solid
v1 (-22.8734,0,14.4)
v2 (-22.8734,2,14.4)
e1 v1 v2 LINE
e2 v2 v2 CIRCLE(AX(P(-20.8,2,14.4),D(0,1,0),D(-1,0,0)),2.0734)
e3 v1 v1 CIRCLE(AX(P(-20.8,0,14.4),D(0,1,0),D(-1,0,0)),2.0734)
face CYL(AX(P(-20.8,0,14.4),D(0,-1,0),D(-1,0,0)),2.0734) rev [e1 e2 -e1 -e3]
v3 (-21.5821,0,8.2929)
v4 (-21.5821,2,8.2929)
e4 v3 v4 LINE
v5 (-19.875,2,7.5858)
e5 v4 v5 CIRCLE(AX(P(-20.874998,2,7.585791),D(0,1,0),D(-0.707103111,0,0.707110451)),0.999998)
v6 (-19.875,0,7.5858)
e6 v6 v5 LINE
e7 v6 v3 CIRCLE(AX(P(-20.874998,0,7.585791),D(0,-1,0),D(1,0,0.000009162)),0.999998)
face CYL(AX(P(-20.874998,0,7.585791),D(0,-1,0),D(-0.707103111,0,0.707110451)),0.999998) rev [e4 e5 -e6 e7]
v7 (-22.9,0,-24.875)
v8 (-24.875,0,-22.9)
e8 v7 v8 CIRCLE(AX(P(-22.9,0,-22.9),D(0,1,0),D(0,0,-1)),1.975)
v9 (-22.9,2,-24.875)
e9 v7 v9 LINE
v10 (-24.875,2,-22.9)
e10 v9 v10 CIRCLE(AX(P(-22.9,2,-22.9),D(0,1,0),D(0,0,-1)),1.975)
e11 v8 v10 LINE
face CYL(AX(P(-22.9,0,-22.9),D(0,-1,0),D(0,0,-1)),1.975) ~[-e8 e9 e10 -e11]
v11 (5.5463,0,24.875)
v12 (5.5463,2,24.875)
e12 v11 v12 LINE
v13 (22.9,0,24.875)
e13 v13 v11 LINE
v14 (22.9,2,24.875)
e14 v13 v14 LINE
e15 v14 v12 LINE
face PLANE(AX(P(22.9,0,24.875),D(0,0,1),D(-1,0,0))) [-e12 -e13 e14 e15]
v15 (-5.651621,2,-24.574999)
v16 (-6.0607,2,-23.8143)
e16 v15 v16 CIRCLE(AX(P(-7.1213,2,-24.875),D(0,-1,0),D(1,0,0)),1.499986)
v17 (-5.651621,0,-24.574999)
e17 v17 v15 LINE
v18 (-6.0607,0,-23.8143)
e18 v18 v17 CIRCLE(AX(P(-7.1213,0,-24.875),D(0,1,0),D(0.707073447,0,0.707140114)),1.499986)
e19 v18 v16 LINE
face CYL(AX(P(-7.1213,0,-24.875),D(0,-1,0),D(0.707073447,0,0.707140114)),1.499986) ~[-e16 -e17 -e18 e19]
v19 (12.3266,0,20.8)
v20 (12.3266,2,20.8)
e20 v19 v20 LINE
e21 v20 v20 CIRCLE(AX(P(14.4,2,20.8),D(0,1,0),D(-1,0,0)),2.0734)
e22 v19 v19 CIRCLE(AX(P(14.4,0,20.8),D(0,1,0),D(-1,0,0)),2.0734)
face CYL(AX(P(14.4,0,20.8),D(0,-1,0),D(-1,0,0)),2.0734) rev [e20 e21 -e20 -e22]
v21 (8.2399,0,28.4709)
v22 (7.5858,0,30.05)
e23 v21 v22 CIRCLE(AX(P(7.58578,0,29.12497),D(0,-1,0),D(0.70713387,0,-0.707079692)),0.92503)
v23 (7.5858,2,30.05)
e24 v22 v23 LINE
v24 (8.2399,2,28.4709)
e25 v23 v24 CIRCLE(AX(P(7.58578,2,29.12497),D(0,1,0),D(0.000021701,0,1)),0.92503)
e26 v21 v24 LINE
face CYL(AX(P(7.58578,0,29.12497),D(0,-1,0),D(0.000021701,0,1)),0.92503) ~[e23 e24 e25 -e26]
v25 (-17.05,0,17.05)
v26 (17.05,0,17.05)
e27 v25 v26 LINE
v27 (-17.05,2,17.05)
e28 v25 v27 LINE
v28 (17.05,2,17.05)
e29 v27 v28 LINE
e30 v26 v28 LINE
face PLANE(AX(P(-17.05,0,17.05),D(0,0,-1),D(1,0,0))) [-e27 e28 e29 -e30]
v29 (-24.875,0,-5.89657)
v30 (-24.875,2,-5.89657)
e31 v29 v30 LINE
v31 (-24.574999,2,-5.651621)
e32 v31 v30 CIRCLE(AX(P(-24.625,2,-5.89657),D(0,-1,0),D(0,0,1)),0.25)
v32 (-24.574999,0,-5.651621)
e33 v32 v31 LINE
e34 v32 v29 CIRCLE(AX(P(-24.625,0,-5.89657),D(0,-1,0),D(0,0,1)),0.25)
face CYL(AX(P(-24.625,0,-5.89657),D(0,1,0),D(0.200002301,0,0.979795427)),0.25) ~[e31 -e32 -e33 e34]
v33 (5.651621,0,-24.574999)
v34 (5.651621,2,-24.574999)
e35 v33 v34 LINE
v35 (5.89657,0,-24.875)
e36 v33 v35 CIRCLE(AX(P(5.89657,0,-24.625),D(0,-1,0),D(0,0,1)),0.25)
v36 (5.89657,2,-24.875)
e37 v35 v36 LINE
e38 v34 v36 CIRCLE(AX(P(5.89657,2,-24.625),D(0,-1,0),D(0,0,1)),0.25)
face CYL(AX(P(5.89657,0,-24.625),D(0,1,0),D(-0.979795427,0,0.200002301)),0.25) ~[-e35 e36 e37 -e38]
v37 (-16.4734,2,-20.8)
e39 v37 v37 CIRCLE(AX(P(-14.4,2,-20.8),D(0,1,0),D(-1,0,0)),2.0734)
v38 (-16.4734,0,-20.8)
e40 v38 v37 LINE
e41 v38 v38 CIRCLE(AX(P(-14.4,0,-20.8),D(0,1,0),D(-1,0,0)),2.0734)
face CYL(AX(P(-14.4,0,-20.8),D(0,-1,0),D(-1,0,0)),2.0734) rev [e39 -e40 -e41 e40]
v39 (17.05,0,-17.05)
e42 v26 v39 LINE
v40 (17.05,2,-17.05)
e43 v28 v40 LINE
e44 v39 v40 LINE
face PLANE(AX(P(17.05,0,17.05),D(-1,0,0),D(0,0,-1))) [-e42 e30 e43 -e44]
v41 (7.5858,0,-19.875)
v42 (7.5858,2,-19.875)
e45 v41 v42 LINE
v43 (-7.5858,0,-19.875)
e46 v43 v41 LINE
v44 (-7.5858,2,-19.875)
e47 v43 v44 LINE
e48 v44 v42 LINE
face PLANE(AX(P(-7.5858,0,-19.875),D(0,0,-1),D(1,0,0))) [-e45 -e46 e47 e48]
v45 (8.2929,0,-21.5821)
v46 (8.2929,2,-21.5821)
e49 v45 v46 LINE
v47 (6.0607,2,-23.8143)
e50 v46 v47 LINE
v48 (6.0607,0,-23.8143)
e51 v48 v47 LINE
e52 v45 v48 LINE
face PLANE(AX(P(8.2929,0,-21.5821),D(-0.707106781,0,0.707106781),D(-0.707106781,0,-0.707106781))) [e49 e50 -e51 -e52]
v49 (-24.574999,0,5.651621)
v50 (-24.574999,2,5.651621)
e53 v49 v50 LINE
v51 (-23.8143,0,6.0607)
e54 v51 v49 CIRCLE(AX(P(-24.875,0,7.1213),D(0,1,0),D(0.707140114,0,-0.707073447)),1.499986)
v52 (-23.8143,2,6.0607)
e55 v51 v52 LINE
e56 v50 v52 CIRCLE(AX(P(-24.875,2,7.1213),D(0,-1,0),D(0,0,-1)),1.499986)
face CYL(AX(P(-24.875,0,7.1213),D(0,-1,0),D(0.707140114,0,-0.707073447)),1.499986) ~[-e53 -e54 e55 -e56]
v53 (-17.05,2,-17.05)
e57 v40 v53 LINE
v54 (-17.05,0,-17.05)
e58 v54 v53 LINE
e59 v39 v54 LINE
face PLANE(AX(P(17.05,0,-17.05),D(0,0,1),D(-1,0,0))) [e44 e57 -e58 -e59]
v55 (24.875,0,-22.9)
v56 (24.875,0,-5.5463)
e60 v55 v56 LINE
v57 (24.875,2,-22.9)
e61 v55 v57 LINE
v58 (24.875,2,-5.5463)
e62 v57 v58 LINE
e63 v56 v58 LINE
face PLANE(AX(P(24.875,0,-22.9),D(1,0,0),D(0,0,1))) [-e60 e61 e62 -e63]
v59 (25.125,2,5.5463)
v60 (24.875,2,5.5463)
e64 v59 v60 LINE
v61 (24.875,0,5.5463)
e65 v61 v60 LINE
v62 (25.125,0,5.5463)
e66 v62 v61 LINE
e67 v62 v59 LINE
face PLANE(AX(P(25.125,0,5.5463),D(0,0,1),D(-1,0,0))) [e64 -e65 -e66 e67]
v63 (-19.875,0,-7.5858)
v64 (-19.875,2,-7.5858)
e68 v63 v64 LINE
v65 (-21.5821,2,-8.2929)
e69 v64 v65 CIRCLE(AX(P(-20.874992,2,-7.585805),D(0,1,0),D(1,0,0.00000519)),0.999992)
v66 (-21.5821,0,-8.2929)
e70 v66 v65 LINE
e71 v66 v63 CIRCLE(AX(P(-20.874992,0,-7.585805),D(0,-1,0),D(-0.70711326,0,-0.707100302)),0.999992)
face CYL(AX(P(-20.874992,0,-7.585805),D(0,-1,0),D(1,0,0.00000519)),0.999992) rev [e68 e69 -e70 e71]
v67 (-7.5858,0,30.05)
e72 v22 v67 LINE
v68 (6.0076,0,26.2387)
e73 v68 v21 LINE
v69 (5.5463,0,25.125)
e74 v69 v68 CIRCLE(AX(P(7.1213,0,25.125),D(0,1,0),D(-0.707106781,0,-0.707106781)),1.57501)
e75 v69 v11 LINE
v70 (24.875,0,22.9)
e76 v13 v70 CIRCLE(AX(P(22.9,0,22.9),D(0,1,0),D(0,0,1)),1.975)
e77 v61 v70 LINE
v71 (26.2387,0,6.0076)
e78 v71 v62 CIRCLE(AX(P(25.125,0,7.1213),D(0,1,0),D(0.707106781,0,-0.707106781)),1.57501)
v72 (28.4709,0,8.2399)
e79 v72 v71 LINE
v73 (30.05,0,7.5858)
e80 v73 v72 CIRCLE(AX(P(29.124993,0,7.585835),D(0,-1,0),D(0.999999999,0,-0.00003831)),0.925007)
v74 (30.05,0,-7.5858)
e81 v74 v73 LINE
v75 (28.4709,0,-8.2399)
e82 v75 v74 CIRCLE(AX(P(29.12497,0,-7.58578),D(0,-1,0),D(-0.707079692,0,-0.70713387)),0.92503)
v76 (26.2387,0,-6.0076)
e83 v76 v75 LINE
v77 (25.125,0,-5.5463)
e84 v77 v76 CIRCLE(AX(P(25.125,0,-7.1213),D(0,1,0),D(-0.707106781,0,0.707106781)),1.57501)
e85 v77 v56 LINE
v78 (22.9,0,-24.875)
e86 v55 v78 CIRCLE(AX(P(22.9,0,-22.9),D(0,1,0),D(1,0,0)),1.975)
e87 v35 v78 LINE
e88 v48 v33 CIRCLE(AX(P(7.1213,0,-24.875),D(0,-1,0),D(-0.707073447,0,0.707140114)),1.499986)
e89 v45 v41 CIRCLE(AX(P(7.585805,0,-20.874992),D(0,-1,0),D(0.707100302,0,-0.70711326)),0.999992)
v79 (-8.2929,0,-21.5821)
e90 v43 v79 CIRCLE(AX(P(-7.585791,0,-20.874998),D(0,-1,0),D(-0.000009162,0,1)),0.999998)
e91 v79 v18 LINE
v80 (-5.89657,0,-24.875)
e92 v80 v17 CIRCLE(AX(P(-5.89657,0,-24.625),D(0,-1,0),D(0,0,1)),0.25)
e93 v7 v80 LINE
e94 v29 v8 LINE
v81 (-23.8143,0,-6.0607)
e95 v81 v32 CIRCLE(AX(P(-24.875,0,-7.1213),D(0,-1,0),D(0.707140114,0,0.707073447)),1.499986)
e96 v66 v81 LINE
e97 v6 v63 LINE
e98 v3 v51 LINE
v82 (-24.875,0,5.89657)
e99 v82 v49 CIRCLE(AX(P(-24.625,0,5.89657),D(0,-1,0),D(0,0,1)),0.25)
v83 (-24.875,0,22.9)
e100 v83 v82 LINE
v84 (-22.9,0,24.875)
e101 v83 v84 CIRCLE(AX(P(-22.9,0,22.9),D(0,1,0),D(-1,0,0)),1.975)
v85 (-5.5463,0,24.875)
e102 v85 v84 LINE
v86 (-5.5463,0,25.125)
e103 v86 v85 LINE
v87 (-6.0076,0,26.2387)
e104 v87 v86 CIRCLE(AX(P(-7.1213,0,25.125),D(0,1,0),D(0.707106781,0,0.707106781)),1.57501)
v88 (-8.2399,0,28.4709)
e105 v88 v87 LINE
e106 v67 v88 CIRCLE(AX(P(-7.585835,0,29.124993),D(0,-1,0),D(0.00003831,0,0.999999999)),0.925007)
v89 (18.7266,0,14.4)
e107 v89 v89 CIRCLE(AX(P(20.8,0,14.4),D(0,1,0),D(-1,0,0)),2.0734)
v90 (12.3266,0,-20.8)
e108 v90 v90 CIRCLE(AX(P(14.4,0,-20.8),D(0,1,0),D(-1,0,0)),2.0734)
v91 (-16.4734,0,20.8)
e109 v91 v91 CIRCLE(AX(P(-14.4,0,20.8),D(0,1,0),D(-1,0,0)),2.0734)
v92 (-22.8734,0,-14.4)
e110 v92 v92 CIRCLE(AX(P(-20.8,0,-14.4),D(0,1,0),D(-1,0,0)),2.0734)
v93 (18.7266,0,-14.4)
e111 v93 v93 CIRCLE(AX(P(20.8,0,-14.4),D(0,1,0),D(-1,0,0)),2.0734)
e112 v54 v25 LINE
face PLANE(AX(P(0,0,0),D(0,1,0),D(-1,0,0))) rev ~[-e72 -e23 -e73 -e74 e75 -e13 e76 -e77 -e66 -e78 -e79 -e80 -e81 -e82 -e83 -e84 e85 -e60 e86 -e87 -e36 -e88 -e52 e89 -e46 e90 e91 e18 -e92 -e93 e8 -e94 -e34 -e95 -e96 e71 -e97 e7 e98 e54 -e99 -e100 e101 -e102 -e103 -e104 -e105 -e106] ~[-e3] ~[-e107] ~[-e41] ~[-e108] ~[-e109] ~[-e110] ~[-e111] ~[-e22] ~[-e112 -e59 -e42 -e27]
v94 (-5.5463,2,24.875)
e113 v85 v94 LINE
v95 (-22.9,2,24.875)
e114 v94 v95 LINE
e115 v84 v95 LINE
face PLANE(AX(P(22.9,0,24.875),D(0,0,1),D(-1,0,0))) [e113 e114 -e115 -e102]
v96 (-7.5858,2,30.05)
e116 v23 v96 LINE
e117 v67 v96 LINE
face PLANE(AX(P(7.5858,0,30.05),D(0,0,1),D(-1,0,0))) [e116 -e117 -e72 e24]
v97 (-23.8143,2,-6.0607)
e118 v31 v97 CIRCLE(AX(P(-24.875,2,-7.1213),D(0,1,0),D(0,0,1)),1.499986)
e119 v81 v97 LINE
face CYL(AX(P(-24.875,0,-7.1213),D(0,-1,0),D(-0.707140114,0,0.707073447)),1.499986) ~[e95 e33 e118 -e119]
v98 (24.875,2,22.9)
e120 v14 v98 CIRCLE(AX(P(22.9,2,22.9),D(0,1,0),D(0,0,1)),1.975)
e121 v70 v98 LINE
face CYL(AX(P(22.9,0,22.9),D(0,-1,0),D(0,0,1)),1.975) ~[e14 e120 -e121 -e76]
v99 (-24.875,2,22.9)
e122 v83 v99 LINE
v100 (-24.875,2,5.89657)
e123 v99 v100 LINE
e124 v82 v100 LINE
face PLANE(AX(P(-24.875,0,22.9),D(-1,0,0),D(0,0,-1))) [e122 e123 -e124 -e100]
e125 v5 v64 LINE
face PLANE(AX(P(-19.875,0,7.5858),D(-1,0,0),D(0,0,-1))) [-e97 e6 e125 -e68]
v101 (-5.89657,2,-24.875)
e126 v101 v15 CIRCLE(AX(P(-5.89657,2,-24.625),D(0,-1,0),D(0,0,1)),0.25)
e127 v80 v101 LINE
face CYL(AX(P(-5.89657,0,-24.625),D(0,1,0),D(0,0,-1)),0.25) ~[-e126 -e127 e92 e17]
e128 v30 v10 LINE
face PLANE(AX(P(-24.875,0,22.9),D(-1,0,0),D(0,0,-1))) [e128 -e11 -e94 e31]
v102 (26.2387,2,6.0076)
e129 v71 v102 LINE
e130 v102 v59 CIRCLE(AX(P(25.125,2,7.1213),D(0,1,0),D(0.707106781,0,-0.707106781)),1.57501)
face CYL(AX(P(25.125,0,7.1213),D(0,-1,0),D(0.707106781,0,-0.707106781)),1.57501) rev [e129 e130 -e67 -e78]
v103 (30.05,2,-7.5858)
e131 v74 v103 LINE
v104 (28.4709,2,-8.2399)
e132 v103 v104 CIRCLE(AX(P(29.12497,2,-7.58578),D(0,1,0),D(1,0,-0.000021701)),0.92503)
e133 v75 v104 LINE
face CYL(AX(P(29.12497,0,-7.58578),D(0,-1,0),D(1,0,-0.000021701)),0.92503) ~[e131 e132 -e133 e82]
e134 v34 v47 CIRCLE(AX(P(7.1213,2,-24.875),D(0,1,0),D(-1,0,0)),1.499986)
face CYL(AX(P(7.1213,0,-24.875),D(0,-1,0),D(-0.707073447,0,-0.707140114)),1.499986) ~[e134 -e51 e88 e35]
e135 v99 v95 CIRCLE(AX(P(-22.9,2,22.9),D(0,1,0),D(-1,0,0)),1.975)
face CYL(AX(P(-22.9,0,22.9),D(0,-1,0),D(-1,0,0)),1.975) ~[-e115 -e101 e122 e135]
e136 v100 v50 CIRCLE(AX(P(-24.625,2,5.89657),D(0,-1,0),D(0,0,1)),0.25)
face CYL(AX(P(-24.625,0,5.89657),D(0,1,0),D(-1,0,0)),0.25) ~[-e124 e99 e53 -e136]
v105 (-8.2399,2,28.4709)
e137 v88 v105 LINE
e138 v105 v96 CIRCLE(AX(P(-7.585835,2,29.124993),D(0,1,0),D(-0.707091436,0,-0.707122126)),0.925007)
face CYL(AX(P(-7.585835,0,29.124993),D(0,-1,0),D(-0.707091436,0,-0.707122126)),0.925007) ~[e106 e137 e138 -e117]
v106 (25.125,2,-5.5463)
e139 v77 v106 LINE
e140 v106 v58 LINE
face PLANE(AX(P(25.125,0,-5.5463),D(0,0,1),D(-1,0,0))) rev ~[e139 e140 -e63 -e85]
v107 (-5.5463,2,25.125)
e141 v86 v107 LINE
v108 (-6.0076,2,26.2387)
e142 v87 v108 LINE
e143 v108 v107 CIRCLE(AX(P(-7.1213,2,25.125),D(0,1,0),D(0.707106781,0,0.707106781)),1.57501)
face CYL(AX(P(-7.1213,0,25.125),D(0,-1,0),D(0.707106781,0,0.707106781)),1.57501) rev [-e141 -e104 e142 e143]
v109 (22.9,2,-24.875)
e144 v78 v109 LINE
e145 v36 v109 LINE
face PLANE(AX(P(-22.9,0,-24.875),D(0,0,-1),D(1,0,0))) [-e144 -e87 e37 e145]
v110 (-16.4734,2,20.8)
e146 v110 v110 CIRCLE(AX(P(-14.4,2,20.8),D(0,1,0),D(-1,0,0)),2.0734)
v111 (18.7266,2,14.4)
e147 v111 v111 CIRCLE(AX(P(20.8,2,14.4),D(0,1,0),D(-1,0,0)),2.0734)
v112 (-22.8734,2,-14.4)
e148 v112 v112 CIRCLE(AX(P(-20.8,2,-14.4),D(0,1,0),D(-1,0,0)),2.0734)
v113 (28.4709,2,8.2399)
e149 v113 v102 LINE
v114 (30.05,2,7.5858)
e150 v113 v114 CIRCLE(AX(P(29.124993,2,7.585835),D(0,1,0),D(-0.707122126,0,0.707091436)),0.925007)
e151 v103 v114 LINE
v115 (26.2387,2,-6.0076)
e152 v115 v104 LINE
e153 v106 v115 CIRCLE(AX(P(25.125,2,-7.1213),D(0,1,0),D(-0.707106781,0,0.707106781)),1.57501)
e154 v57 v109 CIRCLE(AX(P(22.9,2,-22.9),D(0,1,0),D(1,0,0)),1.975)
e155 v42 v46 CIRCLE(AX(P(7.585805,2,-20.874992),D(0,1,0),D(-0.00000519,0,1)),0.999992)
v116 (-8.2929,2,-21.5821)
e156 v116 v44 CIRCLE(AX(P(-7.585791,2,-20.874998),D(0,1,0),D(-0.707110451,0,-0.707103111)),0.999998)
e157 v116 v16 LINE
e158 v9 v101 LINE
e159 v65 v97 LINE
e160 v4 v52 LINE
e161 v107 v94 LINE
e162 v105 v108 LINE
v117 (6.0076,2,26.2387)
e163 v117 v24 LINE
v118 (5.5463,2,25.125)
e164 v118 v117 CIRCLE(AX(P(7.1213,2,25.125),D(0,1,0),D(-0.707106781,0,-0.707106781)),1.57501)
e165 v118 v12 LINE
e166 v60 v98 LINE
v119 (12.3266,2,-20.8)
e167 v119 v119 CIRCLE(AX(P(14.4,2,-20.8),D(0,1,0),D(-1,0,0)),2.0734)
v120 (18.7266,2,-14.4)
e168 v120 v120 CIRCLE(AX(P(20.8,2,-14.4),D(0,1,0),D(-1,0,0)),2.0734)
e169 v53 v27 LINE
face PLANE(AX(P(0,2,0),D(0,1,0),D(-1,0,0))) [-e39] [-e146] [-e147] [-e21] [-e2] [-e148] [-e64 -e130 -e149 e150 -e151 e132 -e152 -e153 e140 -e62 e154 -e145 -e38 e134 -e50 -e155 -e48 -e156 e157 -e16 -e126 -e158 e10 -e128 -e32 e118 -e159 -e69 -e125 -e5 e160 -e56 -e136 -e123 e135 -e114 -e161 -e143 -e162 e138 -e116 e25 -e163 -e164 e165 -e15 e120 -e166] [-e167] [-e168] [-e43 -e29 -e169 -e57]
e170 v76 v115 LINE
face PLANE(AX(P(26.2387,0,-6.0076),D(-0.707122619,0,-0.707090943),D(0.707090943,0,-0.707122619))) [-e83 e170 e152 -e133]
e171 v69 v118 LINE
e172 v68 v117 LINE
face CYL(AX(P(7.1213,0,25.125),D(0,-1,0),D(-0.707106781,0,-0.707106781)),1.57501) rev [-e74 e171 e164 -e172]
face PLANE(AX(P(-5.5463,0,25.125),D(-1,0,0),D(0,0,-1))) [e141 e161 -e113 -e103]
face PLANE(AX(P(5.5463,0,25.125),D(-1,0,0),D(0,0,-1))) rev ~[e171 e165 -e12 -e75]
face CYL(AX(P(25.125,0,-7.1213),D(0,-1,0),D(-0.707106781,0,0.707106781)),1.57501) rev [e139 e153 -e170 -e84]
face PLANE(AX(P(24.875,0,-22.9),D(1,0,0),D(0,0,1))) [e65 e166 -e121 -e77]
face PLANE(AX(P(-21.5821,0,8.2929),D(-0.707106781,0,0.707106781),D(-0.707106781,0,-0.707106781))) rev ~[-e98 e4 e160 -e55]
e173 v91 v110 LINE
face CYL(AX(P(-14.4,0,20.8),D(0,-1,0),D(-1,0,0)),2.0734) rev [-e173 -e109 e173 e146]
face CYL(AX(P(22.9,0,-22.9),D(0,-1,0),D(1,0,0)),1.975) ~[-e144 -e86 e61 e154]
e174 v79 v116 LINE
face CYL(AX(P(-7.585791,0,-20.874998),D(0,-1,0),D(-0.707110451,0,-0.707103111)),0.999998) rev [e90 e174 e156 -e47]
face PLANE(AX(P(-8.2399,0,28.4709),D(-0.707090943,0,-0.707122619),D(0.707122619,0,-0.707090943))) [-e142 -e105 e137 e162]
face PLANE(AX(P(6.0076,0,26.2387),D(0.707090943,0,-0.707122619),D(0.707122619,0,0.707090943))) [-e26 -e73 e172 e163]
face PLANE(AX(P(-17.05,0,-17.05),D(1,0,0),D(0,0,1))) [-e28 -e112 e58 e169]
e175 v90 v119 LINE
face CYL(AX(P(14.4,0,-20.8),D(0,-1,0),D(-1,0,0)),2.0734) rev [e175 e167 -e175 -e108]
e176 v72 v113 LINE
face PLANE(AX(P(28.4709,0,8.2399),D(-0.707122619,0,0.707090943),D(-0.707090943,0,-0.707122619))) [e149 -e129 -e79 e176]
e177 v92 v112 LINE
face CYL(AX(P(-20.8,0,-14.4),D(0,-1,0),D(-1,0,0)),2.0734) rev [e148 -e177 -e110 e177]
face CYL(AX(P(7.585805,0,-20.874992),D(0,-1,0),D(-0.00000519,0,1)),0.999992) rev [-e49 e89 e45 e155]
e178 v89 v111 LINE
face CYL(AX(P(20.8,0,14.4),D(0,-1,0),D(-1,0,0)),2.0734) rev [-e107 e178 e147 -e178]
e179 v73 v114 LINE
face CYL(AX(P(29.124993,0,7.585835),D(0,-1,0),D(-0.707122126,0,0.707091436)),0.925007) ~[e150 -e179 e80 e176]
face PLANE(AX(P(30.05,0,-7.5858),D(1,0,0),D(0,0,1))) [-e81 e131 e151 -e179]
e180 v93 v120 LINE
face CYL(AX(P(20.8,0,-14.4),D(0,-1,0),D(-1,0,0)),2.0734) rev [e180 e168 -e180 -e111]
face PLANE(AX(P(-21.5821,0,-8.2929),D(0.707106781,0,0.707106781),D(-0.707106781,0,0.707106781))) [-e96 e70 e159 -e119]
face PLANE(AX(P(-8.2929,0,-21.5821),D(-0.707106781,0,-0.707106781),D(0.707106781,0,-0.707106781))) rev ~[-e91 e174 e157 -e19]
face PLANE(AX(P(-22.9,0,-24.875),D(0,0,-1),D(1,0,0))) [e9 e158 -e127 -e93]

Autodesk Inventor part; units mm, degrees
ref_plane "YZ Plane" through (0, 0, 0) normal (1, 0, 0) x (0, 1, 0)
ref_plane "XZ Plane" through (0, 0, 0) normal (0, 1, 0) x (-1, 0, 0)
ref_plane "XY Plane" through (0, 0, 0) normal (0, 0, 1) x (1, 0, 0)
sketch "Sketch1" plane through (0, 0, 0) normal (0, 1, 0) x (-1, 0, 0)
  circle A0 centre (-21.9, -21.9) radius 1.875 projected
  circle A1 centre (21.9, 21.9) radius 1.875 projected
  circle A2 centre (21.9, -21.9) radius 1.875 projected
  circle A3 centre (-21.9, 21.9) radius 1.875 projected
  circle A4 centre (14.4, 20.8) radius 2.0734 projected
  circle A5 centre (-14.4, -20.8) radius 2.0734 projected
  circle A6 centre (14.4, -20.8) radius 2.0734 projected
  circle A7 centre (20.8, -14.4) radius 2.0734 projected
  line L0 (-17.05, 17.05) -> (-17.05, -17.05) projected
  line L1 (17.05, 17.05) -> (-17.05, 17.05) projected
  line L2 (17.05, -17.05) -> (17.05, 17.05) projected
  line L3 (-17.05, -17.05) -> (17.05, -17.05) projected
  circle A8 centre (20.8, 14.4) radius 2.0734 projected
  circle A9 centre (-14.4, 20.8) radius 2.0734 projected
  circle A10 centre (-20.8, -14.4) radius 2.0734 projected
  circle A11 centre (-20.8, 14.4) radius 2.0734 projected
  line L4 (-22.9, 24.875) -> (22.9, 24.875) projected
  arc A12 (-22.9, 24.875) -> (-24.875, 22.9) centre (-22.9, 22.9) ccw projected
  line L5 (-24.875, -22.9) -> (-24.875, 22.9) projected
  arc A13 (-24.875, -22.9) -> (-22.9, -24.875) centre (-22.9, -22.9) ccw projected
  line L6 (22.9, -24.875) -> (-22.9, -24.875) projected
  arc A14 (22.9, -24.875) -> (24.875, -22.9) centre (22.9, -22.9) ccw projected
  line L7 (24.875, 22.9) -> (24.875, -22.9) projected
  arc A15 (24.875, 22.9) -> (22.9, 24.875) centre (22.9, 22.9) ccw projected
  arc A16 (24.9, 22.9) -> (22.9, 24.9) centre (22.9, 22.9) ccw projected
  line L8 (22.9, 24.9) -> (-22.9, 24.9) projected
  arc A17 (-22.9, 24.9) -> (-24.9, 22.9) centre (-22.9, 22.9) ccw projected
  line L9 (-24.9, 22.9) -> (-24.9, -22.9) projected
  arc A18 (-24.9, -22.9) -> (-22.9, -24.9) centre (-22.9, -22.9) ccw projected
  line L10 (-22.9, -24.9) -> (22.9, -24.9) projected
  arc A19 (22.9, -24.9) -> (24.9, -22.9) centre (22.9, -22.9) ccw projected
  line L11 (24.9, -22.9) -> (24.9, 22.9) projected
  point P0 (0, 0)
extrude "Extrusion1" add sketch "Sketch1" along normal blind 2 contours A0 | A1 | A2 | A3 | L4 A15 L7 A14 L6 A13 L5 A12
sketch "Sketch2" plane through (0, 0, 0) normal (0, 1, 0) x (-1, 0, 0)
  line L0 (-7.5858, -29.875) -> (7.5858, -29.875)
  line L1 (10, -29.875) -> (10, -19.875)
  line L2 (7.5858, -19.875) -> (-7.5858, -19.875)
  line L3 (-10, -19.875) -> (-10, -29.875)
  line L4 (-10, -29.875) -> (10, -19.875) construction
  line L5 (10, -29.875) -> (-10, -19.875) construction
  line L6 (-8.2929, -21.5821) -> (-6.0607, -23.8143)
  line L7 (-10, -19.875) -> (-6.8431, -19.875) construction
  line L8 (8.2929, -21.5821) -> (6.0607, -23.8143)
  line L9 (-8.2929, -28.1679) -> (-6.0607, -25.9357)
  line L10 (8.2929, -28.1679) -> (6.0607, -25.9357)
  arc A0 (-8.2929, -28.1679) -> (-7.5858, -29.875) centre (-7.5858, -28.875) ccw
  arc A1 (7.5858, -29.875) -> (8.2929, -28.1679) centre (7.5858, -28.875) ccw
  arc A2 (-6.0607, -25.9357) -> (-6.0607, -23.8143) centre (-7.1213, -24.875) ccw
  arc A3 (6.0607, -23.8143) -> (6.0607, -25.9357) centre (7.1213, -24.875) ccw
  arc A4 (-7.5858, -19.875) -> (-8.2929, -21.5821) centre (-7.5858, -20.875) ccw
  arc A5 (8.2929, -21.5821) -> (7.5858, -19.875) centre (7.5858, -20.875) ccw
  line L11 (-7.5858, -19.95) -> (7.5858, -19.95)
  arc A6 (8.2399, -21.5291) -> (7.5858, -19.95) centre (7.5858, -20.875) ccw
  line L12 (8.2399, -21.5291) -> (6.0076, -23.7613)
  arc A7 (6.0076, -23.7613) -> (6.0076, -25.9887) centre (7.1213, -24.875) ccw
  line L13 (6.0076, -25.9887) -> (8.2399, -28.2209)
  arc A8 (7.5858, -29.8) -> (8.2399, -28.2209) centre (7.5858, -28.875) ccw
  line L14 (7.5858, -29.8) -> (-7.5858, -29.8)
  arc A9 (-8.2399, -28.2209) -> (-7.5858, -29.8) centre (-7.5858, -28.875) ccw
  line L15 (-8.2399, -28.2209) -> (-6.0076, -25.9887)
  arc A10 (-6.0076, -25.9887) -> (-6.0076, -23.7613) centre (-7.1213, -24.875) ccw
  line L16 (-6.0076, -23.7613) -> (-8.2399, -21.5291)
  arc A11 (-7.5858, -19.95) -> (-8.2399, -21.5291) centre (-7.5858, -20.875) ccw
  line L17 (-8.2399, 21.7791) -> (-6.0076, 24.0113)
  line L18 (-7.5858, 30.05) -> (7.5858, 30.05)
  line L19 (7.5858, 20.2) -> (-7.5858, 20.2)
  line L20 (-7.5858, 20.125) -> (7.5858, 20.125)
  line L21 (7.5858, 30.125) -> (-7.5858, 30.125)
  line L22 (10, 20.125) -> (-10, 30.125) construction
  line L23 (-10, 20.125) -> (10, 30.125) construction
  arc A12 (-6.0076, 24.0113) -> (-6.0076, 26.2387) centre (-7.1213, 25.125) ccw
  arc A13 (-6.0607, 24.0643) -> (-6.0607, 26.1857) centre (-7.1213, 25.125) ccw
  arc A14 (-7.5858, 30.05) -> (-8.2399, 28.4709) centre (-7.5858, 29.125) ccw
  arc A15 (-7.5858, 30.125) -> (-8.2929, 28.4179) centre (-7.5858, 29.125) ccw
  line L24 (-8.2929, 28.4179) -> (-6.0607, 26.1857)
  line L25 (-10, 30.125) -> (-6.8431, 30.125) construction
  line L26 (-10, 30.125) -> (-10, 20.125)
  arc A16 (-8.2399, 21.7791) -> (-7.5858, 20.2) centre (-7.5858, 21.125) ccw
  arc A17 (-8.2929, 21.8321) -> (-7.5858, 20.125) centre (-7.5858, 21.125) ccw
  line L27 (-8.2929, 21.8321) -> (-6.0607, 24.0643)
  line L28 (-6.0076, 26.2387) -> (-8.2399, 28.4709)
  line L29 (10, 20.125) -> (10, 30.125)
  line L30 (8.2929, 28.4179) -> (6.0607, 26.1857)
  line L31 (8.2929, 21.8321) -> (6.0607, 24.0643)
  arc A18 (7.5858, 20.125) -> (8.2929, 21.8321) centre (7.5858, 21.125) ccw
  arc A19 (6.0076, 26.2387) -> (6.0076, 24.0113) centre (7.1213, 25.125) ccw
  arc A20 (6.0607, 26.1857) -> (6.0607, 24.0643) centre (7.1213, 25.125) ccw
  arc A21 (7.5858, 20.2) -> (8.2399, 21.7791) centre (7.5858, 21.125) ccw
  line L32 (6.0076, 24.0113) -> (8.2399, 21.7791)
  line L33 (8.2399, 28.4709) -> (6.0076, 26.2387)
  arc A22 (8.2929, 28.4179) -> (7.5858, 30.125) centre (7.5858, 29.125) ccw
  arc A23 (8.2399, 28.4709) -> (7.5858, 30.05) centre (7.5858, 29.125) ccw
  line L34 (0, 24.875) -> (0, 25.125)
  line L35 (-22.9, -24.875) -> (22.9, -24.875) projected
  line L36 (22.9, 24.875) -> (-22.9, 24.875) projected
  line L37 (0, -24.875) -> (0, -24.875)
  line L38 (5.6213, 25.125) -> (5.5463, 25.125)
  line L39 (5.5463, 25.125) -> (5.5463, 24.875)
  line L40 (5.5463, 24.875) -> (5.6213, 24.875)
  line L41 (5.6213, 24.875) -> (5.6213, 25.125)
  line L42 (-5.6213, 25.125) -> (-5.5463, 25.125)
  line L43 (-5.5463, 25.125) -> (-5.5463, 24.875)
  line L44 (-5.5463, 24.875) -> (-5.6213, 24.875)
  line L45 (-5.6213, 24.875) -> (-5.6213, 25.125)
  line L46 (-5.6213, -24.875) -> (-5.5463, -24.875)
  line L47 (-5.5463, -24.875) -> (-5.5463, -24.875)
  line L48 (-5.5463, -24.875) -> (-5.6213, -24.875)
  line L49 (-5.6213, -24.875) -> (-5.6213, -24.875)
  line L50 (5.6213, -24.875) -> (5.5463, -24.875)
  line L51 (5.5463, -24.875) -> (5.5463, -24.875)
  line L52 (5.5463, -24.875) -> (5.6213, -24.875)
  line L53 (5.6213, -24.875) -> (5.6213, -24.875)
  arc A24 (19.95, -7.5858) -> (21.5291, -8.2399) centre (20.875, -7.5858) ccw
  arc A25 (19.875, -7.5858) -> (21.5821, -8.2929) centre (20.875, -7.5858) ccw
  line L54 (21.5821, -8.2929) -> (23.8143, -6.0607)
  line L55 (23.7613, -6.0076) -> (21.5291, -8.2399)
  arc A26 (25.9357, -6.0607) -> (23.8143, -6.0607) centre (24.875, -7.1213) ccw
  arc A27 (25.9887, -6.0076) -> (23.7613, -6.0076) centre (24.875, -7.1213) ccw
  line L56 (29.875, -7.5858) -> (29.875, 7.5858)
  line L57 (29.8, 7.5858) -> (29.8, -7.5858)
  line L58 (19.95, -7.5858) -> (19.95, 7.5858)
  line L59 (19.875, 7.5858) -> (19.875, -7.5858)
  line L60 (28.2209, -8.2399) -> (25.9887, -6.0076)
  line L61 (21.5821, 8.2929) -> (23.8143, 6.0607)
  line L62 (28.1679, 8.2929) -> (25.9357, 6.0607)
  arc A28 (29.875, 7.5858) -> (28.1679, 8.2929) centre (28.875, 7.5858) ccw
  arc A29 (23.7613, 6.0076) -> (25.9887, 6.0076) centre (24.875, 7.1213) ccw
  line L63 (24.875, 5.5463) -> (24.875, 5.5463)
  line L64 (24.875, 5.6213) -> (24.875, 5.5463)
  line L65 (24.875, 5.5463) -> (24.875, 5.6213)
  line L66 (24.875, 5.6213) -> (24.875, 5.6213)
  arc A30 (23.8143, 6.0607) -> (25.9357, 6.0607) centre (24.875, 7.1213) ccw
  line L67 (25.9887, 6.0076) -> (28.2209, 8.2399)
  arc A31 (29.8, 7.5858) -> (28.2209, 8.2399) centre (28.875, 7.5858) ccw
  line L68 (21.5291, 8.2399) -> (23.7613, 6.0076)
  arc A32 (21.5291, 8.2399) -> (19.95, 7.5858) centre (20.875, 7.5858) ccw
  arc A33 (21.5821, 8.2929) -> (19.875, 7.5858) centre (20.875, 7.5858) ccw
  line L69 (24.875, -5.5463) -> (24.875, -5.5463)
  line L70 (24.875, -5.5463) -> (24.875, -5.6213)
  line L71 (24.875, -5.6213) -> (24.875, -5.5463)
  line L72 (24.875, -5.6213) -> (24.875, -5.6213)
  line L73 (24.875, 0) -> (24.875, 0)
  line L74 (28.1679, -8.2929) -> (25.9357, -6.0607)
  arc A34 (28.1679, -8.2929) -> (29.875, -7.5858) centre (28.875, -7.5858) ccw
  arc A35 (28.2209, -8.2399) -> (29.8, -7.5858) centre (28.875, -7.5858) ccw
  line L75 (-25.125, 5.6213) -> (-25.125, 5.5463)
  arc A36 (-28.4709, 8.2399) -> (-30.05, 7.5858) centre (-29.125, 7.5858) ccw
  arc A37 (-28.4179, 8.2929) -> (-30.125, 7.5858) centre (-29.125, 7.5858) ccw
  line L76 (-28.4179, 8.2929) -> (-26.1857, 6.0607)
  line L77 (-24.875, 5.5463) -> (-24.875, 5.6213)
  arc A38 (-26.2387, 6.0076) -> (-24.0113, 6.0076) centre (-25.125, 7.1213) ccw
  line L78 (-21.8321, 8.2929) -> (-24.0643, 6.0607)
  line L79 (-24.875, 0) -> (-25.125, 0)
  arc A39 (-20.2, 7.5858) -> (-21.7791, 8.2399) centre (-21.125, 7.5858) ccw
  arc A40 (-20.125, 7.5858) -> (-21.8321, 8.2929) centre (-21.125, 7.5858) ccw
  line L80 (-30.05, -7.5858) -> (-30.05, 7.5858)
  line L81 (-30.125, 7.5858) -> (-30.125, -7.5858)
  line L82 (-20.2, 7.5858) -> (-20.2, -7.5858)
  line L83 (-20.125, -7.5858) -> (-20.125, 7.5858)
  line L84 (-24.875, 5.6213) -> (-25.125, 5.6213)
  arc A41 (-26.1857, 6.0607) -> (-24.0643, 6.0607) centre (-25.125, 7.1213) ccw
  line L85 (-24.0113, 6.0076) -> (-21.7791, 8.2399)
  line L86 (-25.125, 5.5463) -> (-24.875, 5.5463)
  line L87 (-28.4709, 8.2399) -> (-26.2387, 6.0076)
  line L88 (-25.125, -5.5463) -> (-24.875, -5.5463)
  line L89 (-24.875, -5.5463) -> (-24.875, -5.6213)
  line L90 (-24.875, -5.6213) -> (-25.125, -5.6213)
  line L91 (-25.125, -5.6213) -> (-25.125, -5.5463)
  arc A42 (-30.05, -7.5858) -> (-28.4709, -8.2399) centre (-29.125, -7.5858) ccw
  arc A43 (-21.8321, -8.2929) -> (-20.125, -7.5858) centre (-21.125, -7.5858) ccw
  arc A44 (-21.7791, -8.2399) -> (-20.2, -7.5858) centre (-21.125, -7.5858) ccw
  arc A45 (-24.0113, -6.0076) -> (-26.2387, -6.0076) centre (-25.125, -7.1213) ccw
  arc A46 (-24.0643, -6.0607) -> (-26.1857, -6.0607) centre (-25.125, -7.1213) ccw
  line L92 (-21.7791, -8.2399) -> (-24.0113, -6.0076)
  line L93 (-21.8321, -8.2929) -> (-24.0643, -6.0607)
  line L94 (-28.4179, -8.2929) -> (-26.1857, -6.0607)
  line L95 (-26.2387, -6.0076) -> (-28.4709, -8.2399)
  arc A47 (-30.125, -7.5858) -> (-28.4179, -8.2929) centre (-29.125, -7.5858) ccw
  arc A48 (7.5858, 19.95) -> (8.2399, 21.5291) centre (7.5858, 20.875) ccw
  arc A49 (7.5858, 19.875) -> (8.2929, 21.5821) centre (7.5858, 20.875) ccw
  line L96 (8.2929, 21.5821) -> (6.0607, 23.8143)
  line L97 (6.0076, 23.7613) -> (8.2399, 21.5291)
  arc A50 (6.0607, 25.9357) -> (6.0607, 23.8143) centre (7.1213, 24.875) ccw
  arc A51 (6.0076, 25.9887) -> (6.0076, 23.7613) centre (7.1213, 24.875) ccw
  line L98 (7.5858, 29.875) -> (-7.5858, 29.875)
  line L99 (-7.5858, 29.8) -> (7.5858, 29.8)
  line L100 (7.5858, 19.95) -> (-7.5858, 19.95)
  line L101 (-7.5858, 19.875) -> (7.5858, 19.875)
  line L102 (8.2399, 28.2209) -> (6.0076, 25.9887)
  line L103 (-8.2929, 21.5821) -> (-6.0607, 23.8143)
  line L104 (-8.2929, 28.1679) -> (-6.0607, 25.9357)
  arc A52 (-7.5858, 29.875) -> (-8.2929, 28.1679) centre (-7.5858, 28.875) ccw
  arc A53 (-6.0076, 23.7613) -> (-6.0076, 25.9887) centre (-7.1213, 24.875) ccw
  line L105 (-5.5463, 24.875) -> (-5.5463, 24.875)
  line L106 (-5.6213, 24.875) -> (-5.5463, 24.875)
  line L107 (-5.5463, 24.875) -> (-5.6213, 24.875)
  line L108 (-5.6213, 24.875) -> (-5.6213, 24.875)
  arc A54 (-6.0607, 23.8143) -> (-6.0607, 25.9357) centre (-7.1213, 24.875) ccw
  line L109 (-6.0076, 25.9887) -> (-8.2399, 28.2209)
  arc A55 (-7.5858, 29.8) -> (-8.2399, 28.2209) centre (-7.5858, 28.875) ccw
  line L110 (-8.2399, 21.5291) -> (-6.0076, 23.7613)
  arc A56 (-8.2399, 21.5291) -> (-7.5858, 19.95) centre (-7.5858, 20.875) ccw
  arc A57 (-8.2929, 21.5821) -> (-7.5858, 19.875) centre (-7.5858, 20.875) ccw
  line L111 (5.5463, 24.875) -> (5.5463, 24.875)
  line L112 (5.5463, 24.875) -> (5.6213, 24.875)
  line L113 (5.6213, 24.875) -> (5.5463, 24.875)
  line L114 (5.6213, 24.875) -> (5.6213, 24.875)
  line L115 (0, 24.875) -> (0, 24.875)
  line L116 (8.2929, 28.1679) -> (6.0607, 25.9357)
  arc A58 (8.2929, 28.1679) -> (7.5858, 29.875) centre (7.5858, 28.875) ccw
  arc A59 (8.2399, 28.2209) -> (7.5858, 29.8) centre (7.5858, 28.875) ccw
  line L117 (-5.6213, -25.125) -> (-5.5463, -25.125)
  arc A60 (-8.2399, -28.4709) -> (-7.5858, -30.05) centre (-7.5858, -29.125) ccw
  arc A61 (-8.2929, -28.4179) -> (-7.5858, -30.125) centre (-7.5858, -29.125) ccw
  line L118 (-8.2929, -28.4179) -> (-6.0607, -26.1857)
  line L119 (-5.5463, -24.875) -> (-5.6213, -24.875)
  arc A62 (-6.0076, -26.2387) -> (-6.0076, -24.0113) centre (-7.1213, -25.125) ccw
  line L120 (-8.2929, -21.8321) -> (-6.0607, -24.0643)
  line L121 (0, -24.875) -> (0, -25.125)
  arc A63 (-7.5858, -20.2) -> (-8.2399, -21.7791) centre (-7.5858, -21.125) ccw
  arc A64 (-7.5858, -20.125) -> (-8.2929, -21.8321) centre (-7.5858, -21.125) ccw
  line L122 (7.5858, -30.05) -> (-7.5858, -30.05)
  line L123 (-7.5858, -30.125) -> (7.5858, -30.125)
  line L124 (-7.5858, -20.2) -> (7.5858, -20.2)
  line L125 (7.5858, -20.125) -> (-7.5858, -20.125)
  line L126 (-5.6213, -24.875) -> (-5.6213, -25.125)
  arc A65 (-6.0607, -26.1857) -> (-6.0607, -24.0643) centre (-7.1213, -25.125) ccw
  line L127 (-6.0076, -24.0113) -> (-8.2399, -21.7791)
  line L128 (-5.5463, -25.125) -> (-5.5463, -24.875)
  line L129 (-8.2399, -28.4709) -> (-6.0076, -26.2387)
  line L130 (5.5463, -25.125) -> (5.5463, -24.875)
  line L131 (5.5463, -24.875) -> (5.6213, -24.875)
  line L132 (5.6213, -24.875) -> (5.6213, -25.125)
  line L133 (5.6213, -25.125) -> (5.5463, -25.125)
  arc A66 (7.5858, -30.05) -> (8.2399, -28.4709) centre (7.5858, -29.125) ccw
  arc A67 (8.2929, -21.8321) -> (7.5858, -20.125) centre (7.5858, -21.125) ccw
  arc A68 (8.2399, -21.7791) -> (7.5858, -20.2) centre (7.5858, -21.125) ccw
  arc A69 (6.0076, -24.0113) -> (6.0076, -26.2387) centre (7.1213, -25.125) ccw
  arc A70 (6.0607, -24.0643) -> (6.0607, -26.1857) centre (7.1213, -25.125) ccw
  line L134 (8.2399, -21.7791) -> (6.0076, -24.0113)
  line L135 (8.2929, -21.8321) -> (6.0607, -24.0643)
  line L136 (8.2929, -28.4179) -> (6.0607, -26.1857)
  line L137 (6.0076, -26.2387) -> (8.2399, -28.4709)
  arc A71 (7.5858, -30.125) -> (8.2929, -28.4179) centre (7.5858, -29.125) ccw
  arc A72 (-19.95, 7.5858) -> (-21.5291, 8.2399) centre (-20.875, 7.5858) ccw
  arc A73 (-19.875, 7.5858) -> (-21.5821, 8.2929) centre (-20.875, 7.5858) ccw
  line L138 (-21.5821, 8.2929) -> (-23.8143, 6.0607)
  line L139 (-23.7613, 6.0076) -> (-21.5291, 8.2399)
  arc A74 (-25.9357, 6.0607) -> (-23.8143, 6.0607) centre (-24.875, 7.1213) ccw
  arc A75 (-25.9887, 6.0076) -> (-23.7613, 6.0076) centre (-24.875, 7.1213) ccw
  line L140 (-29.875, 7.5858) -> (-29.875, -7.5858)
  line L141 (-29.8, -7.5858) -> (-29.8, 7.5858)
  line L142 (-19.95, 7.5858) -> (-19.95, -7.5858)
  line L143 (-19.875, -7.5858) -> (-19.875, 7.5858)
  line L144 (-28.2209, 8.2399) -> (-25.9887, 6.0076)
  line L145 (-21.5821, -8.2929) -> (-23.8143, -6.0607)
  line L146 (-28.1679, -8.2929) -> (-25.9357, -6.0607)
  arc A76 (-29.875, -7.5858) -> (-28.1679, -8.2929) centre (-28.875, -7.5858) ccw
  arc A77 (-23.7613, -6.0076) -> (-25.9887, -6.0076) centre (-24.875, -7.1213) ccw
  line L147 (-24.875, -5.5463) -> (-24.875, -5.5463)
  line L148 (-24.875, -5.6213) -> (-24.875, -5.5463)
  line L149 (-24.875, -5.5463) -> (-24.875, -5.6213)
  line L150 (-24.875, -5.6213) -> (-24.875, -5.6213)
  arc A78 (-23.8143, -6.0607) -> (-25.9357, -6.0607) centre (-24.875, -7.1213) ccw
  line L151 (-25.9887, -6.0076) -> (-28.2209, -8.2399)
  arc A79 (-29.8, -7.5858) -> (-28.2209, -8.2399) centre (-28.875, -7.5858) ccw
  line L152 (-21.5291, -8.2399) -> (-23.7613, -6.0076)
  arc A80 (-21.5291, -8.2399) -> (-19.95, -7.5858) centre (-20.875, -7.5858) ccw
  arc A81 (-21.5821, -8.2929) -> (-19.875, -7.5858) centre (-20.875, -7.5858) ccw
  line L153 (-24.875, 5.5463) -> (-24.875, 5.5463)
  line L154 (-24.875, 5.5463) -> (-24.875, 5.6213)
  line L155 (-24.875, 5.6213) -> (-24.875, 5.5463)
  line L156 (-24.875, 5.6213) -> (-24.875, 5.6213)
  line L157 (-24.875, 0) -> (-24.875, 0)
  line L158 (-28.1679, 8.2929) -> (-25.9357, 6.0607)
  arc A82 (-28.1679, 8.2929) -> (-29.875, 7.5858) centre (-28.875, 7.5858) ccw
  arc A83 (-28.2209, 8.2399) -> (-29.8, 7.5858) centre (-28.875, 7.5858) ccw
  line L159 (25.125, -5.6213) -> (25.125, -5.5463)
  arc A84 (28.4709, -8.2399) -> (30.05, -7.5858) centre (29.125, -7.5858) ccw
  arc A85 (28.4179, -8.2929) -> (30.125, -7.5858) centre (29.125, -7.5858) ccw
  line L160 (28.4179, -8.2929) -> (26.1857, -6.0607)
  line L161 (24.875, -5.5463) -> (24.875, -5.6213)
  arc A86 (26.2387, -6.0076) -> (24.0113, -6.0076) centre (25.125, -7.1213) ccw
  line L162 (21.8321, -8.2929) -> (24.0643, -6.0607)
  line L163 (24.875, 0) -> (25.125, 0)
  arc A87 (20.2, -7.5858) -> (21.7791, -8.2399) centre (21.125, -7.5858) ccw
  arc A88 (20.125, -7.5858) -> (21.8321, -8.2929) centre (21.125, -7.5858) ccw
  line L164 (30.05, 7.5858) -> (30.05, -7.5858)
  line L165 (30.125, -7.5858) -> (30.125, 7.5858)
  line L166 (20.2, -7.5858) -> (20.2, 7.5858)
  line L167 (20.125, 7.5858) -> (20.125, -7.5858)
  line L168 (24.875, -5.6213) -> (25.125, -5.6213)
  arc A89 (26.1857, -6.0607) -> (24.0643, -6.0607) centre (25.125, -7.1213) ccw
  line L169 (24.0113, -6.0076) -> (21.7791, -8.2399)
  line L170 (25.125, -5.5463) -> (24.875, -5.5463)
  line L171 (28.4709, -8.2399) -> (26.2387, -6.0076)
  line L172 (25.125, 5.5463) -> (24.875, 5.5463)
  line L173 (24.875, 5.5463) -> (24.875, 5.6213)
  line L174 (24.875, 5.6213) -> (25.125, 5.6213)
  line L175 (25.125, 5.6213) -> (25.125, 5.5463)
  arc A90 (30.05, 7.5858) -> (28.4709, 8.2399) centre (29.125, 7.5858) ccw
  arc A91 (21.8321, 8.2929) -> (20.125, 7.5858) centre (21.125, 7.5858) ccw
  arc A92 (21.7791, 8.2399) -> (20.2, 7.5858) centre (21.125, 7.5858) ccw
  arc A93 (24.0113, 6.0076) -> (26.2387, 6.0076) centre (25.125, 7.1213) ccw
  arc A94 (24.0643, 6.0607) -> (26.1857, 6.0607) centre (25.125, 7.1213) ccw
  line L176 (21.7791, 8.2399) -> (24.0113, 6.0076)
  line L177 (21.8321, 8.2929) -> (24.0643, 6.0607)
  line L178 (28.4179, 8.2929) -> (26.1857, 6.0607)
  line L179 (26.2387, 6.0076) -> (28.4709, 8.2399)
  arc A95 (30.125, 7.5858) -> (28.4179, 8.2929) centre (29.125, 7.5858) ccw
  line L180 (-22.9, -24.875) -> (22.9, -24.875) projected
  arc A96 (22.9, -24.875) -> (24.875, -22.9) centre (22.9, -22.9) ccw projected
  line L181 (24.875, -22.9) -> (24.875, 22.9) projected
  arc A97 (24.875, 22.9) -> (22.9, 24.875) centre (22.9, 22.9) ccw projected
  line L182 (22.9, 24.875) -> (-22.9, 24.875) projected
  arc A98 (-22.9, 24.875) -> (-24.875, 22.9) centre (-22.9, 22.9) ccw projected
  line L183 (-24.875, 22.9) -> (-24.875, -22.9) projected
  arc A99 (-24.875, -22.9) -> (-22.9, -24.875) centre (-22.9, -22.9) ccw projected
  circle A100 centre (-20.8, 14.4) radius 2.0734 projected
  circle A101 centre (-20.8, -14.4) radius 2.0734 projected
  circle A102 centre (-14.4, 20.8) radius 2.0734 projected
  circle A103 centre (20.8, 14.4) radius 2.0734 projected
  circle A104 centre (20.8, -14.4) radius 2.0734 projected
  circle A105 centre (14.4, -20.8) radius 2.0734 projected
  circle A106 centre (-14.4, -20.8) radius 2.0734 projected
  circle A107 centre (14.4, 20.8) radius 2.0734 projected
  line L184 (-17.05, 17.05) -> (17.05, 17.05) projected
  line L185 (17.05, 17.05) -> (17.05, -17.05) projected
  line L186 (17.05, -17.05) -> (-17.05, -17.05) projected
  line L187 (-17.05, -17.05) -> (-17.05, 17.05) projected
  point P0 (0, 0)
  point P1 (19.875, -6.8431)
  point P2 (19.875, -10)
  point P3 (29.875, -10)
  point P4 (29.875, 10)
  point P5 (19.875, 10)
  point P6 (-30.125, 10)
  point P7 (-20.125, 10)
  point P8 (-30.125, -10)
  point P9 (-20.125, -10)
  point P10 (-30.125, -6.8431)
  point P11 (6.8431, 19.875)
  point P12 (10, 19.875)
  point P13 (10, 29.875)
  point P14 (-10, 29.875)
  point P15 (-10, 19.875)
  point P16 (-10, -30.125)
  point P17 (-10, -20.125)
  point P18 (10, -30.125)
  point P19 (10, -20.125)
  point P20 (6.8431, -30.125)
  point P21 (-19.875, 6.8431)
  point P22 (-19.875, 10)
  point P23 (-29.875, 10)
  point P24 (-29.875, -10)
  point P25 (-19.875, -10)
  point P26 (30.125, -10)
  point P27 (20.125, -10)
  point P28 (30.125, 10)
  point P29 (20.125, 10)
  point P30 (30.125, 6.8431)
  point P31 (-21, 8.5023)
  point P32 (-24.625, 5.5463)
  point P33 (-25.125, 5.5463)
  point P34 (-25.125, -5.5463)
  point P35 (-24.625, -5.5463)
  point P36 (-21, -8.5023)
  point P37 (-5.5463, 25.125)
  point P38 (5.5463, 25.125)
  dimension "d19" = 20
  dimension "d20" = 10
  dimension "d21" = 45
  dimension "d22" = 1
  dimension "d23" = 1.5
  dimension "d24" = 1
  dimension "d25" = 0.075
  dimension "d28" = 15.1716
  dimension "d29" = 2.8787
  dimension "d30" = 2.8787
  dimension "d31" = 20
  dimension "d32" = 10
  dimension "d33" = 45
  dimension "d34" = 1
  dimension "d35" = 1.5
  dimension "d36" = 1
  dimension "d37" = 0.075
  dimension "d38" = 15.1716
  dimension "d39" = 2.8787
  dimension "d40" = 2.8787
  dimension "d41" = 0.25
  dimension "d42" = 0
  dimension "d45" = 360
extrude "Extrusion2" add sketch "Sketch2" along normal up to surface (2 mm away) contours L88 A45 L95 A42 A79 L141 A83 A36 L87 A38 L86 L183 | A76 L140 A82 A36 A83 L141 A79 A42 | A42 L80 A36 A82 L140 A76 | L43 A12 L28 A14 A55 L99 A59 A23 L33 A19 L39 L36 | A52 L98 A58 A23 A59 L99 A55 A14 | A14 L18 A23 A58 L98 A52
extrude "Extrusion3" cut sketch "Sketch2" along normal up to surface (2 mm away) contours A2 A62 L35 | L35 A62 A2 L6 A4 A63 A11 L16 A10 | A10 L16 A11 A63 L124 A68 A6 L12 A7 L35 | L35 A69 A3 | A7 L12 A6 A68 A5 L8 A3 A69 L35 | A64 A11 A63 A4 | A4 L2 A5 A67 A6 L11 A11 A64 | A11 A64 L125 A67 A6 A68 L124 A63 | A5 A68 A6 A67 | A11 L11 A6 A67 L125 A64 | A26 A86 L70 | A26 L54 A25 A87 A24 L55 A27 L70 A86 | A88 A24 A87 A25 | A25 L59 A33 A91 A32 L58 A24 A88 | A27 L55 A24 A87 L166 A92 A32 L68 A29 L181 | A88 L167 A91 A32 A92 L166 A87 A24 | A24 L58 A32 A91 L167 A88 | A29 L68 A32 A92 A33 L61 A30 A93 L64 | A33 A92 A32 A91 | A93 A30 L64
fillet "Fillet1" radius 0.25 4 edges at (-24.875, 1, -5.6213) (-24.875, 1, 5.6213) (5.6213, 1, -24.875) (-5.6213, 1, -24.875)
properties part number "Interlinking Base Piece"
